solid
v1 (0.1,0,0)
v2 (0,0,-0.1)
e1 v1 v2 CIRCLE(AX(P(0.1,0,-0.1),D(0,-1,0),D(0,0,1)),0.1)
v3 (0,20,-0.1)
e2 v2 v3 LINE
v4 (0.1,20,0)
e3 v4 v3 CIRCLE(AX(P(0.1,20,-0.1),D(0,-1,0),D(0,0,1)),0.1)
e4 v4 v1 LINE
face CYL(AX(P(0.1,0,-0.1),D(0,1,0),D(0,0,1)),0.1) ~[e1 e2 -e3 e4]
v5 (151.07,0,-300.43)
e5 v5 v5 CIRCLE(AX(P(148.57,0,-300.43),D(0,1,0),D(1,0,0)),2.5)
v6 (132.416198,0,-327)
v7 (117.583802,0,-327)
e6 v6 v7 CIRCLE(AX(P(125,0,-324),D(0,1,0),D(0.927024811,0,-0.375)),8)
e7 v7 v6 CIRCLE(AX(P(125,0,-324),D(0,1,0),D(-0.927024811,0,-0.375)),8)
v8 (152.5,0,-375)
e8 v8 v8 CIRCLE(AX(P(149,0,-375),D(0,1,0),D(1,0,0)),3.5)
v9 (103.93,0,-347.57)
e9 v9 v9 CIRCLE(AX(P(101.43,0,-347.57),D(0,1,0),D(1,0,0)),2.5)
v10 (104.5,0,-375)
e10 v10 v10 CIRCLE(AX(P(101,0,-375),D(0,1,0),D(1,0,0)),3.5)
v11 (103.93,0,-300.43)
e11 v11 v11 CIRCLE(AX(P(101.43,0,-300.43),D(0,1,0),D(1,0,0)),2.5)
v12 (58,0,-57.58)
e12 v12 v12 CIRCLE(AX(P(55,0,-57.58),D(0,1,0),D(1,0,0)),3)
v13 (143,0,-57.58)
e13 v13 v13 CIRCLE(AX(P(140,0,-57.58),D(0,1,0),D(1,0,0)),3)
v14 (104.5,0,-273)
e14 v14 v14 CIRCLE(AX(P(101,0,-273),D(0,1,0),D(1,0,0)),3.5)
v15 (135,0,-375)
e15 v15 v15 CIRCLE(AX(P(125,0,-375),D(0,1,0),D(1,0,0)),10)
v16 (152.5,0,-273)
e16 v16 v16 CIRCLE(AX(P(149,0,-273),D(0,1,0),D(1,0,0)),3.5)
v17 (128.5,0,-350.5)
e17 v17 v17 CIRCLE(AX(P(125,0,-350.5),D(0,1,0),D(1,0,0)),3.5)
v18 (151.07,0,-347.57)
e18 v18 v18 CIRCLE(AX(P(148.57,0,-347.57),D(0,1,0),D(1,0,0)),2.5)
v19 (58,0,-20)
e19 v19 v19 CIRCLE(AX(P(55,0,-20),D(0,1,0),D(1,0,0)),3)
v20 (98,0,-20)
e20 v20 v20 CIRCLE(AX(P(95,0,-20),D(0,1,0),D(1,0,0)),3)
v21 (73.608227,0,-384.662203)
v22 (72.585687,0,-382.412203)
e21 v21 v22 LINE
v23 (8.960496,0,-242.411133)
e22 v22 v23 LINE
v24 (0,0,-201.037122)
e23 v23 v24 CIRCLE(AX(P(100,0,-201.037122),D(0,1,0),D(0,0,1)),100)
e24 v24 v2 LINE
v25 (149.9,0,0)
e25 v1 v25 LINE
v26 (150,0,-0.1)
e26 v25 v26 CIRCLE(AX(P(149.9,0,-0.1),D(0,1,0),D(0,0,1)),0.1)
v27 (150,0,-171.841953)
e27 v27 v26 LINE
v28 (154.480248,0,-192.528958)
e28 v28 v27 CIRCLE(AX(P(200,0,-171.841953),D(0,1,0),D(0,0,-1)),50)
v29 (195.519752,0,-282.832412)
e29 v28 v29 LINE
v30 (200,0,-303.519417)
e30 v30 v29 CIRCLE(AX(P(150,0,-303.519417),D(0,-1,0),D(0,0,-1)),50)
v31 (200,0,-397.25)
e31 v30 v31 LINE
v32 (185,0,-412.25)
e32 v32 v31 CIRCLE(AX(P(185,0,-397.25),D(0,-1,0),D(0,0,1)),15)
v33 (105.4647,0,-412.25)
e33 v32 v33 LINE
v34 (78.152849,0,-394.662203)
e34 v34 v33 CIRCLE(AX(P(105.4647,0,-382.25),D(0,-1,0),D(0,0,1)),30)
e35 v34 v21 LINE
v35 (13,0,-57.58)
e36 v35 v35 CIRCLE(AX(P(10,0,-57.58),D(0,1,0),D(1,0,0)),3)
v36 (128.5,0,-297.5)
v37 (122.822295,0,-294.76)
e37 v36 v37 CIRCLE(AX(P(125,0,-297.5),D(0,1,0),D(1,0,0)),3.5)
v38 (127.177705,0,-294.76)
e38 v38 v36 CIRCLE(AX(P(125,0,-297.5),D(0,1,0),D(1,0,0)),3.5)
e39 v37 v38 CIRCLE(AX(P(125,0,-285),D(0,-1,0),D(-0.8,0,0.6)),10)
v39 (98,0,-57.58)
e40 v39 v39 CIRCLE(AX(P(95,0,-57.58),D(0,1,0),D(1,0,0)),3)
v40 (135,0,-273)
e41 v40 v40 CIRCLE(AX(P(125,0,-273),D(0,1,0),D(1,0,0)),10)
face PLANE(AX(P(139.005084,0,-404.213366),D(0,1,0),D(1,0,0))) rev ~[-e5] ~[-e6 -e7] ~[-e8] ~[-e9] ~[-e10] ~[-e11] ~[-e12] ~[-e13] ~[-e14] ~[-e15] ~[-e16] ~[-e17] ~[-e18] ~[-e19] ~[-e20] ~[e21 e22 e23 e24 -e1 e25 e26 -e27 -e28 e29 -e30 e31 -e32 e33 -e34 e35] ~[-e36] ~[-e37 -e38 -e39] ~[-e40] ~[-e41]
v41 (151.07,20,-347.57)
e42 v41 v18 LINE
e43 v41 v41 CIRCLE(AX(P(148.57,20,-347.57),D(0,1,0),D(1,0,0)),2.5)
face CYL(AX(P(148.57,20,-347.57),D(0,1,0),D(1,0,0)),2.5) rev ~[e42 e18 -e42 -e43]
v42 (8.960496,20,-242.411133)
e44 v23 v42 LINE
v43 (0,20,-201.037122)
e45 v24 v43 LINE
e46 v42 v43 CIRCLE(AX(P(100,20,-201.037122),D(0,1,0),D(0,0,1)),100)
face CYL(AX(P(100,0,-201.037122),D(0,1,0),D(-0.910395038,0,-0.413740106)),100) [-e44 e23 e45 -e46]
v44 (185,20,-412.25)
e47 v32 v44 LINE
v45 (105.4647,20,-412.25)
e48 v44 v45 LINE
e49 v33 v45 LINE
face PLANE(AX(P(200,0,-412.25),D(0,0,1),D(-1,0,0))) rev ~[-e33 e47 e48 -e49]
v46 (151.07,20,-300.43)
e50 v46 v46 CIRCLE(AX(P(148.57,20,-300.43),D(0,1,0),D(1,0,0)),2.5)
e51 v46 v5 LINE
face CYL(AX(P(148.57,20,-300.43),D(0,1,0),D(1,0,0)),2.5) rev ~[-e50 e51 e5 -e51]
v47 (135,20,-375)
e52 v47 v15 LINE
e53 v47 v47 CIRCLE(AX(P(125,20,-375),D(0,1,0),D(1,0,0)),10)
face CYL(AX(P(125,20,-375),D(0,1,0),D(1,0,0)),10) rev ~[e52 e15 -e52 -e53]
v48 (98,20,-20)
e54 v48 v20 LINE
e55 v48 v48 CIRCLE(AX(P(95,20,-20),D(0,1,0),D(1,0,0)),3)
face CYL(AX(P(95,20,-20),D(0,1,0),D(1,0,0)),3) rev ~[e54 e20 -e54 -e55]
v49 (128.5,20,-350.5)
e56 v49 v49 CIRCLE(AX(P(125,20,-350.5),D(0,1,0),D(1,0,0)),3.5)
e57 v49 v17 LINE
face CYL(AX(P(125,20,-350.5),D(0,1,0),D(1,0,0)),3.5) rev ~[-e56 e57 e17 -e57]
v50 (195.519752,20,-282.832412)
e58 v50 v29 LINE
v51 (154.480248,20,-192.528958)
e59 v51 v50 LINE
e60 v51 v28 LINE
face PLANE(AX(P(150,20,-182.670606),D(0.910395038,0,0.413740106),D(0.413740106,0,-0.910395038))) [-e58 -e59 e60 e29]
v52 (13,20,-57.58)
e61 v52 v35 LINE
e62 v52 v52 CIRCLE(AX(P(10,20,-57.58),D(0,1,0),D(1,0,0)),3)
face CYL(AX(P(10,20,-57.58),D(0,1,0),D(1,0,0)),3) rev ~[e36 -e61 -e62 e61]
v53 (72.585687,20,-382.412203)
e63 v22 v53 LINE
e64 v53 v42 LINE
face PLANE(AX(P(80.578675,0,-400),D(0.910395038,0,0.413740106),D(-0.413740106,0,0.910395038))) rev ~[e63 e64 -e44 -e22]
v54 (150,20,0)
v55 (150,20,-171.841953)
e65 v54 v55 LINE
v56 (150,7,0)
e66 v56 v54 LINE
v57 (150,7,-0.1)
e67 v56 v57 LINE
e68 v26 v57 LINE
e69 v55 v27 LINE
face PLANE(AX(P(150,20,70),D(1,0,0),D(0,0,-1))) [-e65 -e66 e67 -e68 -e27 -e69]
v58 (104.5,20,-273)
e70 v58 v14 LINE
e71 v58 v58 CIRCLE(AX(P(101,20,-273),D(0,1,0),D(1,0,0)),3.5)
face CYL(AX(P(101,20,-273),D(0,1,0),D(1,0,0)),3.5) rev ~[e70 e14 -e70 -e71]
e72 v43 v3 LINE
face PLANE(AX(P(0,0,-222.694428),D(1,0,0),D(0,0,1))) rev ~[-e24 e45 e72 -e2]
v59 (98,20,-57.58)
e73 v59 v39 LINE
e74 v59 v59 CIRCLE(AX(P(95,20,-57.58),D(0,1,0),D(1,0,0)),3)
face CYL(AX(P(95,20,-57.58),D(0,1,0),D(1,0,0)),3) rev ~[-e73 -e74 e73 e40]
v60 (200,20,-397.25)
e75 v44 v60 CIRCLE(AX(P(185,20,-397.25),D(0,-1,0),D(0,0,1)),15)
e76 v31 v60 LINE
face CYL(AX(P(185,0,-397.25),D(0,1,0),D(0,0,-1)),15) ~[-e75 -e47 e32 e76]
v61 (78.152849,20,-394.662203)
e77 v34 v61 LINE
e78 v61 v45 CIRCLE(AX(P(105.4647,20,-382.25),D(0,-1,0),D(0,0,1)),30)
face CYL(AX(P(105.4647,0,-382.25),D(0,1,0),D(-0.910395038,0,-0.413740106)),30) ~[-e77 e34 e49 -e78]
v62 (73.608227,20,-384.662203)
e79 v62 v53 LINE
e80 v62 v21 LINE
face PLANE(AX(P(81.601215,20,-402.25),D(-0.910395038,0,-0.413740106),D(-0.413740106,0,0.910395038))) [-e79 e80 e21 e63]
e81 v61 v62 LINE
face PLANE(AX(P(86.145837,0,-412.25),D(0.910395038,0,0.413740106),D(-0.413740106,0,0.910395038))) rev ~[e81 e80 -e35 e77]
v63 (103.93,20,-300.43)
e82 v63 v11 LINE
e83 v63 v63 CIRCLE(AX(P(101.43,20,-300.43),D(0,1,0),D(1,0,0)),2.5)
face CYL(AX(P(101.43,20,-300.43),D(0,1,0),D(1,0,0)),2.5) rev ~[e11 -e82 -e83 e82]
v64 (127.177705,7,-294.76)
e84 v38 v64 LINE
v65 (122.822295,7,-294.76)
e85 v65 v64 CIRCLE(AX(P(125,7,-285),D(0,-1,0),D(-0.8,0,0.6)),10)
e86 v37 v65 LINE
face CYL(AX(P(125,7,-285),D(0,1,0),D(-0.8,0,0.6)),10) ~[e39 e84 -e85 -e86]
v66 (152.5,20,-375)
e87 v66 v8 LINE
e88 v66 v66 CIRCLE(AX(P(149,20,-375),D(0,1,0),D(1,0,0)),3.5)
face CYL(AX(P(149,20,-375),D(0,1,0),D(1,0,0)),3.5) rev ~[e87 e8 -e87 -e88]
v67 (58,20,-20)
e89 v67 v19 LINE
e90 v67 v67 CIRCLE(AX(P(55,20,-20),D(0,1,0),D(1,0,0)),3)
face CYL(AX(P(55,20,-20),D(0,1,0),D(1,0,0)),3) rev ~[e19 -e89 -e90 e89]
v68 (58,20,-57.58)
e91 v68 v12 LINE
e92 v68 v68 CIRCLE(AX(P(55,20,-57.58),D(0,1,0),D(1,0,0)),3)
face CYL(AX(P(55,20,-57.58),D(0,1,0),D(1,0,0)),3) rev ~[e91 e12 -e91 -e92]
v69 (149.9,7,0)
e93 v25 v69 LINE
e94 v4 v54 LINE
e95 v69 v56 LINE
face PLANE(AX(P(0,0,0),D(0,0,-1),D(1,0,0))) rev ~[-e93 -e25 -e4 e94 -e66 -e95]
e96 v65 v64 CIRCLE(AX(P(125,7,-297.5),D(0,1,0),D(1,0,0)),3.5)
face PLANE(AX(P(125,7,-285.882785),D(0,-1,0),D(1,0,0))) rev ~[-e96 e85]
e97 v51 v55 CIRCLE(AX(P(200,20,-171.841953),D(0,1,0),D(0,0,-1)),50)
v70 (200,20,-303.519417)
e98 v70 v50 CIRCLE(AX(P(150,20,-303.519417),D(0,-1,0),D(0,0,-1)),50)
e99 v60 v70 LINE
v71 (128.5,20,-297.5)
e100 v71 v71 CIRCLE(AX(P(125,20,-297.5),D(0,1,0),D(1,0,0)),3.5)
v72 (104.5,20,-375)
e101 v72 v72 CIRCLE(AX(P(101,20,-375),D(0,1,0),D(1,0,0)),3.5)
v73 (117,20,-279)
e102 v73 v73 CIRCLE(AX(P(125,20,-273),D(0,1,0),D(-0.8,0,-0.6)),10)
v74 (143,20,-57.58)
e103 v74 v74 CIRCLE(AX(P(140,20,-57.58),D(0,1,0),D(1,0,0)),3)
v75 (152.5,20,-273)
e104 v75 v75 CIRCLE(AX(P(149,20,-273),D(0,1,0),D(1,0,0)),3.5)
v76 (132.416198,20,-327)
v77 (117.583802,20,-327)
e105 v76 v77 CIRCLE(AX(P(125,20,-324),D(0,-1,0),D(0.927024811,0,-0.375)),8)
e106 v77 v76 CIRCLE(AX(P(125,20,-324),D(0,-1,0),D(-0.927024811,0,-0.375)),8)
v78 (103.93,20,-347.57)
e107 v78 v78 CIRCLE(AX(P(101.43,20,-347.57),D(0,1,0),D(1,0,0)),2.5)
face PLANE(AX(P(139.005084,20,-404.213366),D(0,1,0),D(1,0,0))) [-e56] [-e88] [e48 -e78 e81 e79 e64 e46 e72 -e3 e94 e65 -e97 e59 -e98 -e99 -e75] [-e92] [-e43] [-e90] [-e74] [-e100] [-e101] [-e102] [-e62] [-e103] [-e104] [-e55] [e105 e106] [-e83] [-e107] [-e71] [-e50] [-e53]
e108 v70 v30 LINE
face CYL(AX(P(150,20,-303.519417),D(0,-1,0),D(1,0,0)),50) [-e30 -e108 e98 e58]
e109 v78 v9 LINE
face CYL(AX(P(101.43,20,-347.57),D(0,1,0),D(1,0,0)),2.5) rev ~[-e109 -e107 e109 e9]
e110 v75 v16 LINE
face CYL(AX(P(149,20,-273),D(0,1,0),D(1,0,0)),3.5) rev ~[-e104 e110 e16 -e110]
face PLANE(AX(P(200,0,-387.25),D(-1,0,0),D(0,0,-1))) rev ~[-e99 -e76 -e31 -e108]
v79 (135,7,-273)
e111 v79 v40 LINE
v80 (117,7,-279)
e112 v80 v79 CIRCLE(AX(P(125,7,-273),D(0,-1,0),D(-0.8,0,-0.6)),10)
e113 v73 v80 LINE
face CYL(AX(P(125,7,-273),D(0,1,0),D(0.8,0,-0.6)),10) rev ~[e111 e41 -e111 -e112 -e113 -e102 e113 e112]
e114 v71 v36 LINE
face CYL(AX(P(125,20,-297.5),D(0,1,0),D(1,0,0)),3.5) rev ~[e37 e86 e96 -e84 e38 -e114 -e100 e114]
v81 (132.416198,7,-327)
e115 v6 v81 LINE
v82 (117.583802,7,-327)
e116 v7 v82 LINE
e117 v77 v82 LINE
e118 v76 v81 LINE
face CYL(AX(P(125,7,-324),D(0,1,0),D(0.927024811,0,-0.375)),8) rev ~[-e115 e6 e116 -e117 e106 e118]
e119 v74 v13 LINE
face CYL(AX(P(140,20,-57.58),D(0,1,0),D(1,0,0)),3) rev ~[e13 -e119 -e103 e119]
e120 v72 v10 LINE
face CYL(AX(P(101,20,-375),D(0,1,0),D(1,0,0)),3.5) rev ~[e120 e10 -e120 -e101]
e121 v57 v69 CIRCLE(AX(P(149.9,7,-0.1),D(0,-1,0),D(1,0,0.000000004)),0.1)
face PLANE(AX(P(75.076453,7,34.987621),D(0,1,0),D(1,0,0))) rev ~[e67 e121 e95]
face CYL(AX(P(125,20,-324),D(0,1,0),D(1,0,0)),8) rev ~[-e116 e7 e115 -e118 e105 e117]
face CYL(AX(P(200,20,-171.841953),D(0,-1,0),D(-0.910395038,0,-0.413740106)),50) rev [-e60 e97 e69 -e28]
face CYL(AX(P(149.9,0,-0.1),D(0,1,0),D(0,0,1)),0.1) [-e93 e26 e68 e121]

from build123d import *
from build123d.topology import SkipClean

# Parameters (mm, degrees)
BOSS_EXTRUDE1_DEPTH = 20
FILLET1_R           = 15
FILLET3_R           = 30
FILLET4_R           = 100
CUT_EXTRUDE1_DEPTH  = 20
FILLET6_R           = 50
FILLET7_R           = 50
FILLET9_R           = 0.1
FILLET10_R          = 0.1
SKETCH3_R           = 3
CUT_EXTRUDE2_DEPTH  = 13
SKETCH4_R           = 8
SKETCH4_R_2         = 10
CUT_EXTRUDE3_DEPTH  = 30
SKETCH5_R           = 3.5
CUT_EXTRUDE4_DEPTH  = 13
SKETCH6_R           = 3.5
CUT_EXTRUDE5_DEPTH  = 13
SKETCH7_R           = 3
BOSS_EXTRUDE2_DEPTH = 13
SKETCH8_R           = 3
BOSS_EXTRUDE3_DEPTH = 13
SKETCH9_R           = 3.5
CUT_EXTRUDE6_DEPTH  = 13
SKETCH10_R          = 3.5
BOSS_EXTRUDE4_DEPTH = 13
SKETCH11_R          = 3.5
CUT_EXTRUDE7_DEPTH  = 13
SKETCH12_R          = 3.5
BOSS_EXTRUDE5_DEPTH = 13
SKETCH14_R          = 2.5
CUT_EXTRUDE8_DEPTH  = 13
SKETCH16_W          = 150
SKETCH16_H          = 20
CUT_EXTRUDE9_DEPTH  = 70
SKETCH17_R          = 3
CUT_EXTRUDE10_DEPTH = 70
SKETCH18_R          = 3.5
SKETCH18_R_2        = 2.5
SKETCH18_R_3        = 8
SKETCH18_R_4        = 10
CUT_EXTRUDE11_DEPTH = 70
BOSS_EXTRUDE6_START = -7
BOSS_EXTRUDE6_DEPTH = 7
BOSS_EXTRUDE7_DEPTH = 20
FILLET11_R          = 30
FILLET13_R          = 15
BOSS_EXTRUDE8_START = -20
BOSS_EXTRUDE8_DEPTH = 20
FILLET14_R          = 30
FILLET15_R          = 15


with BuildPart() as part:
    # Sketch1 → Boss-Extrude1 (new body)
    with BuildSketch(Plane(origin=(0, 0, 0), x_dir=(1, 0, 0), z_dir=(0, 1, 0))):
        Polygon((0, 0), (150, 0), (150, 150), (200, 260), (200, 400), (80.578675248, 400), (0, 222.694428273), align=None)
    extrude(amount=BOSS_EXTRUDE1_DEPTH)

    # Fillet1
    fillet1_edges = [part.edges().sort_by_distance(p)[0] for p in [
        (200, 10, -400),
    ]]
    fillet(fillet1_edges, radius=FILLET1_R)

    # Fillet3
    fillet3_edges = [part.edges().sort_by_distance(p)[0] for p in [
        (80.578675248, 10, -400),
    ]]
    fillet(fillet3_edges, radius=FILLET3_R)

    # Fillet4
    fillet4_edges = [part.edges().sort_by_distance(p)[0] for p in [
        (0, 10, -222.694428273),
    ]]
    fillet(fillet4_edges, radius=FILLET4_R)

    # Sketch2 → Cut-Extrude1 (cut)
    with BuildSketch(Plane(origin=(0, 20, 0), x_dir=(1, 0, 0), z_dir=(0, 1, 0))):
        Polygon((150, 150), (150, 173.876585238), (150, 182.670606049), (200, 292.6907641), (200, 260), align=None)
    extrude(amount=-CUT_EXTRUDE1_DEPTH, mode=Mode.SUBTRACT)

    # Fillet6
    fillet6_edges = [part.edges().sort_by_distance(p)[0] for p in [
        (200, 10, -292.6907641),
    ]]
    fillet(fillet6_edges, radius=FILLET6_R)

    # Fillet7
    fillet7_edges = [part.edges().sort_by_distance(p)[0] for p in [
        (150, 10, -182.670606049),
    ]]
    fillet(fillet7_edges, radius=FILLET7_R)

    # Fillet9
    fillet9_edges = [part.edges().sort_by_distance(p)[0] for p in [
        (0, 10, 0),
    ]]
    fillet(fillet9_edges, radius=FILLET9_R)

    # Fillet10
    fillet10_edges = [part.edges().sort_by_distance(p)[0] for p in [
        (150, 10, 0),
    ]]
    fillet(fillet10_edges, radius=FILLET10_R)

    # Sketch3 → Cut-Extrude2 (cut)
    with BuildSketch(Plane(origin=(0, 20, 0), x_dir=(1, 0, 0), z_dir=(0, 1, 0))):
        with Locations((55, 57.83)):
            Circle(SKETCH3_R)
        with Locations((10, 57.83)):
            Circle(SKETCH3_R)
        with Locations((140, 57.83)):
            Circle(SKETCH3_R)
        with Locations((95, 57.83)):
            Circle(SKETCH3_R)
        with Locations((95, 20)):
            Circle(SKETCH3_R)
        with Locations((55, 20)):
            Circle(SKETCH3_R)
    extrude(amount=-CUT_EXTRUDE2_DEPTH, mode=Mode.SUBTRACT)

    # Sketch4 → Cut-Extrude3 (cut)
    with BuildSketch(Plane(origin=(0, 20, 0), x_dir=(1, 0, 0), z_dir=(0, 1, 0))):
        with Locations((125, 330)):
            Circle(SKETCH4_R)
        with Locations((125, 375)):
            Circle(SKETCH4_R_2)
        with Locations((125, 285)):
            Circle(SKETCH4_R_2)
    extrude(amount=-CUT_EXTRUDE3_DEPTH, mode=Mode.SUBTRACT)

    # Sketch5 → Cut-Extrude4 (cut)
    with BuildSketch(Plane(origin=(0, 20, 0), x_dir=(1, 0, 0), z_dir=(0, 1, 0))):
        with Locations((149, 375)):
            Circle(SKETCH5_R)
        with Locations((101, 375)):
            Circle(SKETCH5_R)
        with Locations((149, 285)):
            Circle(SKETCH5_R)
        with Locations((101, 285)):
            Circle(SKETCH5_R)
    extrude(amount=-CUT_EXTRUDE4_DEPTH, mode=Mode.SUBTRACT)

    # Sketch6 → Cut-Extrude5 (cut)
    with BuildSketch(Plane(origin=(0, 20, 0), x_dir=(1, 0, 0), z_dir=(0, 1, 0))):
        with Locations((151.5, 330)):
            Circle(SKETCH6_R)
        with Locations((98.5, 330)):
            Circle(SKETCH6_R)
    extrude(amount=-CUT_EXTRUDE5_DEPTH, mode=Mode.SUBTRACT)

    # Sketch7 → Boss-Extrude2 (add)
    with BuildSketch(Plane(origin=(0, 20, 0), x_dir=(1, 0, 0), z_dir=(0, 1, 0))):
        with BuildLine():
            Line((149.9, 0), (0.1, 0))
            Line((0.1, 0), (0.1, -70))
            Line((0.1, -70), (39.581431097, -70))
            Line((39.581431097, -70), (55.1, -70))
            Line((55.1, -70), (150, -70))
            Line((150, -70), (150, 0.1))
            ThreePointArc((150, 0.1), (149.970710678, 0.029289322), (149.9, 0))
        make_face()
        with BuildLine():
            ThreePointArc((58.1, -50), (57.221320344, -52.121320344), (55.1, -53))
            ThreePointArc((55.1, -53), (52.1, -50), (55.1, -47))
            ThreePointArc((55.1, -47), (57.221320344, -47.878679656), (58.1, -50))
        make_face(mode=Mode.SUBTRACT)
        with BuildLine():
            ThreePointArc((98.1, -50), (92.978679656, -52.121320344), (95.1, -47))
            ThreePointArc((95.1, -47), (97.221320344, -47.878679656), (98.1, -50))
        make_face(mode=Mode.SUBTRACT)
        with Locations((10.1, -12.17)):
            Circle(SKETCH7_R, mode=Mode.SUBTRACT)
        with BuildLine():
            ThreePointArc((58.1, -12.17), (57.221320344, -14.291320344), (55.1, -15.17))
            ThreePointArc((55.1, -15.17), (52.978679656, -14.291320344), (52.1, -12.17))
            ThreePointArc((52.1, -12.17), (55.1, -9.17), (58.1, -12.17))
        make_face(mode=Mode.SUBTRACT)
        with BuildLine():
            ThreePointArc((95.1, -15.17), (92.978679656, -14.291320344), (92.1, -12.17))
            ThreePointArc((92.1, -12.17), (95.1, -9.17), (98.1, -12.17))
            ThreePointArc((98.1, -12.17), (97.221320344, -14.291320344), (95.1, -15.17))
        make_face(mode=Mode.SUBTRACT)
        with BuildLine():
            ThreePointArc((143.1, -12.17), (140.1, -15.17), (137.1, -12.17))
            ThreePointArc((137.1, -12.17), (140.1, -9.17), (143.1, -12.17))
        make_face(mode=Mode.SUBTRACT)
    extrude(amount=-BOSS_EXTRUDE2_DEPTH)

    # Sketch8 → Boss-Extrude3 (add)
    with BuildSketch(Plane(origin=(0, 20, 0), x_dir=(1, 0, 0), z_dir=(0, 1, 0))):
        with Locations((10, 57.83)):
            Circle(SKETCH8_R)
        with Locations((55, 57.83)):
            Circle(SKETCH8_R)
        with Locations((95, 57.83)):
            Circle(SKETCH8_R)
        with Locations((140, 57.83)):
            Circle(SKETCH8_R)
        with Locations((95, 20)):
            Circle(SKETCH8_R)
        with Locations((55, 20)):
            Circle(SKETCH8_R)
    extrude(amount=-BOSS_EXTRUDE3_DEPTH)

    # Sketch9 → Cut-Extrude6 (cut)
    with BuildSketch(Plane(origin=(0, 20, 0), x_dir=(1, 0, 0), z_dir=(0, 1, 0))):
        with BuildLine():
            ThreePointArc((133, 279), (129.472135955, 276.05572809), (125, 275))
            ThreePointArc((125, 275), (120.527864045, 276.05572809), (117, 279))
            ThreePointArc((117, 279), (125, 263), (133, 279))
        make_face()
        with BuildLine():
            ThreePointArc((117.583801513, 327), (125, 316), (132.416198487, 327))
            ThreePointArc((132.416198487, 327), (125, 322), (117.583801513, 327))
        make_face()
        with BuildLine():
            ThreePointArc((96.697224362, 327), (98.5, 320.5), (100.302775638, 327))
            ThreePointArc((100.302775638, 327), (98.5, 326.5), (96.697224362, 327))
        make_face()
        with BuildLine():
            ThreePointArc((149.697224362, 327), (151.5, 320.5), (153.302775638, 327))
            ThreePointArc((153.302775638, 327), (151.5, 326.5), (149.697224362, 327))
        make_face()
        with Locations((101, 273)):
            Circle(SKETCH9_R)
        with Locations((149, 273)):
            Circle(SKETCH9_R)
    extrude(amount=-CUT_EXTRUDE6_DEPTH, mode=Mode.SUBTRACT)

    # Sketch10 → Boss-Extrude4 (add)
    with SkipClean():  # the faces are left unmerged after this step: merging them gives an invalid solid
        with BuildSketch(Plane(origin=(0, 20, 0), x_dir=(1, 0, 0), z_dir=(0, 1, 0))):
            with BuildLine():
                ThreePointArc((117.583801513, 327), (125, 332), (132.416198487, 327))
                ThreePointArc((132.416198487, 327), (125, 338), (117.583801513, 327))
            make_face()
            with BuildLine():
                ThreePointArc((149.697224362, 327), (151.5, 327.5), (153.302775638, 327))
                ThreePointArc((153.302775638, 327), (151.5, 333.5), (149.697224362, 327))
            make_face()
            with BuildLine():
                ThreePointArc((100.302775638, 327), (98.5, 333.5), (96.697224362, 327))
                ThreePointArc((96.697224362, 327), (98.5, 327.5), (100.302775638, 327))
            make_face()
            with BuildLine():
                ThreePointArc((133, 279), (125, 295), (117, 279))
                ThreePointArc((117, 279), (125, 283), (133, 279))
            make_face()
            with Locations((149, 285)):
                Circle(SKETCH10_R)
            with Locations((101, 285)):
                Circle(SKETCH10_R)
        extrude(amount=-BOSS_EXTRUDE4_DEPTH)

    # Sketch11 → Cut-Extrude7 (cut)
    with SkipClean():  # the faces are left unmerged after this step: merging them gives an invalid solid
        with BuildSketch(Plane(origin=(0, 20, 0), x_dir=(1, 0, 0), z_dir=(0, 1, 0))):
            with Locations((125, 350.5)):
                Circle(SKETCH11_R)
            with Locations((125, 297.5)):
                Circle(SKETCH11_R)
        extrude(amount=-CUT_EXTRUDE7_DEPTH, mode=Mode.SUBTRACT)

    # Sketch12 → Boss-Extrude5 (add)
    with SkipClean():  # the faces are left unmerged after this step: merging them gives an invalid solid
        with BuildSketch(Plane(origin=(0, 20, 0), x_dir=(1, 0, 0), z_dir=(0, 1, 0))):
            with Locations((151.5, 324)):
                Circle(SKETCH12_R)
            with Locations((98.5, 324)):
                Circle(SKETCH12_R)
        extrude(amount=-BOSS_EXTRUDE5_DEPTH)

    # Sketch14 → Cut-Extrude8 (cut)
    with SkipClean():  # the faces are left unmerged after this step: merging them gives an invalid solid
        with BuildSketch(Plane(origin=(0, 20, 0), x_dir=(1, 0, 0), z_dir=(0, 1, 0))):
            with Locations((148.57, 347.57)):
                Circle(SKETCH14_R)
            with Locations((148.57, 300.43)):
                Circle(SKETCH14_R)
            with Locations((101.43, 300.43)):
                Circle(SKETCH14_R)
            with Locations((101.43, 347.57)):
                Circle(SKETCH14_R)
        extrude(amount=-CUT_EXTRUDE8_DEPTH, mode=Mode.SUBTRACT)

    # Sketch16 → Cut-Extrude9 (cut)
    with SkipClean():  # the faces are left unmerged after this step: merging them gives an invalid solid
        with BuildSketch(Plane.XY.offset(70)):
            with Locations((75, 10)):
                Rectangle(SKETCH16_W, SKETCH16_H)
        extrude(amount=-CUT_EXTRUDE9_DEPTH, mode=Mode.SUBTRACT)

    # Sketch17 → Cut-Extrude10 (cut)
    with SkipClean():  # the faces are left unmerged after this step: merging them gives an invalid solid
        with BuildSketch(Plane(origin=(0, 20, 0), x_dir=(1, 0, 0), z_dir=(0, 1, 0))):
            with Locations((10, 57.58)):
                Circle(SKETCH17_R)
            with Locations((55, 57.58)):
                Circle(SKETCH17_R)
            with Locations((55, 20)):
                Circle(SKETCH17_R)
            with Locations((95, 20)):
                Circle(SKETCH17_R)
            with Locations((95, 57.58)):
                Circle(SKETCH17_R)
            with Locations((140, 57.58)):
                Circle(SKETCH17_R)
        extrude(amount=-CUT_EXTRUDE10_DEPTH, mode=Mode.SUBTRACT)

    # Sketch18 → Cut-Extrude11 (cut)
    with SkipClean():  # the faces are left unmerged after this step: merging them gives an invalid solid
        with BuildSketch(Plane(origin=(0, 20, 0), x_dir=(1, 0, 0), z_dir=(0, 1, 0))):
            with Locations((149, 375)):
                Circle(SKETCH18_R)
            with Locations((148.57, 347.57)):
                Circle(SKETCH18_R_2)
            with Locations((125, 350.5)):
                Circle(SKETCH18_R)
            with Locations((101, 375)):
                Circle(SKETCH18_R)
            with Locations((101.43, 347.57)):
                Circle(SKETCH18_R_2)
            with Locations((125, 324)):
                Circle(SKETCH18_R_3)
            with Locations((148.57, 300.43)):
                Circle(SKETCH18_R_2)
            with Locations((125, 297.5)):
                Circle(SKETCH18_R)
            with Locations((101.43, 300.43)):
                Circle(SKETCH18_R_2)
            with Locations((125, 273)):
                Circle(SKETCH18_R_4)
            with Locations((149, 273)):
                Circle(SKETCH18_R)
            with Locations((101, 273)):
                Circle(SKETCH18_R)
        extrude(amount=-CUT_EXTRUDE11_DEPTH, mode=Mode.SUBTRACT)

    # Sketch19 → Boss-Extrude6 (add)
    with BuildSketch(Plane.XZ.offset(BOSS_EXTRUDE6_START)):
        with BuildLine():
            ThreePointArc((117, -279), (125, -295), (133, -279))
            ThreePointArc((133, -279), (125, -283), (117, -279))
        make_face()
        with BuildLine():
            ThreePointArc((132.416198487, -327), (125, -332), (117.583801513, -327))
            ThreePointArc((117.583801513, -327), (125, -338), (132.416198487, -327))
        make_face()
    extrude(amount=BOSS_EXTRUDE6_DEPTH)

    # Sketch20 → Boss-Extrude7 (add)
    with BuildSketch(Plane(origin=(0, 20, 0), x_dir=(1, 0, 0), z_dir=(0, 1, 0))):
        with BuildLine():
            Line((99.897538035, 400), (185, 400))
            ThreePointArc((185, 400), (195.606601718, 395.606601718), (200, 385))
            Line((200, 385), (200, 402.25))
            Line((200, 402.25), (81.601215135, 402.25))
            Line((81.601215135, 402.25), (72.585686906, 382.412203187))
            ThreePointArc((72.585686906, 382.412203187), (83.655095109, 395.222669324), (99.897538035, 400))
        make_face()
    extrude(amount=-BOSS_EXTRUDE7_DEPTH)

    # Fillet11
    fillet11_edges = [part.edges().sort_by_distance(p)[0] for p in [
        (81.601215135, 10, -402.25),
    ]]
    fillet(fillet11_edges, radius=FILLET11_R)

    # Fillet13
    fillet13_edges = [part.edges().sort_by_distance(p)[0] for p in [
        (200, 10, -402.25),
    ]]
    fillet(fillet13_edges, radius=FILLET13_R)

    # Sketch21 → Boss-Extrude8 (add)
    with BuildSketch(Plane(origin=(0, 20, 0), x_dir=(1, 0, 0), z_dir=(0, 1, 0)).offset(BOSS_EXTRUDE8_START)):
        with BuildLine():
            Line((100.920077922, 402.25), (185, 402.25))
            ThreePointArc((185, 402.25), (195.606601718, 397.856601718), (200, 387.25))
            Line((200, 387.25), (200, 412.25))
            Line((200, 412.25), (86.145836856, 412.25))
            Line((86.145836856, 412.25), (73.608226794, 384.662203187))
            ThreePointArc((73.608226794, 384.662203187), (84.677634996, 397.472669324), (100.920077922, 402.25))
        make_face()
    extrude(amount=BOSS_EXTRUDE8_DEPTH)

    # Fillet14
    fillet14_edges = [part.edges().sort_by_distance(p)[0] for p in [
        (86.145836856, 10, -412.25),
    ]]
    fillet(fillet14_edges, radius=FILLET14_R)

    # Fillet15
    fillet15_edges = [part.edges().sort_by_distance(p)[0] for p in [
        (200, 10, -412.25),
    ]]
    fillet(fillet15_edges, radius=FILLET15_R)


solid = part.part
